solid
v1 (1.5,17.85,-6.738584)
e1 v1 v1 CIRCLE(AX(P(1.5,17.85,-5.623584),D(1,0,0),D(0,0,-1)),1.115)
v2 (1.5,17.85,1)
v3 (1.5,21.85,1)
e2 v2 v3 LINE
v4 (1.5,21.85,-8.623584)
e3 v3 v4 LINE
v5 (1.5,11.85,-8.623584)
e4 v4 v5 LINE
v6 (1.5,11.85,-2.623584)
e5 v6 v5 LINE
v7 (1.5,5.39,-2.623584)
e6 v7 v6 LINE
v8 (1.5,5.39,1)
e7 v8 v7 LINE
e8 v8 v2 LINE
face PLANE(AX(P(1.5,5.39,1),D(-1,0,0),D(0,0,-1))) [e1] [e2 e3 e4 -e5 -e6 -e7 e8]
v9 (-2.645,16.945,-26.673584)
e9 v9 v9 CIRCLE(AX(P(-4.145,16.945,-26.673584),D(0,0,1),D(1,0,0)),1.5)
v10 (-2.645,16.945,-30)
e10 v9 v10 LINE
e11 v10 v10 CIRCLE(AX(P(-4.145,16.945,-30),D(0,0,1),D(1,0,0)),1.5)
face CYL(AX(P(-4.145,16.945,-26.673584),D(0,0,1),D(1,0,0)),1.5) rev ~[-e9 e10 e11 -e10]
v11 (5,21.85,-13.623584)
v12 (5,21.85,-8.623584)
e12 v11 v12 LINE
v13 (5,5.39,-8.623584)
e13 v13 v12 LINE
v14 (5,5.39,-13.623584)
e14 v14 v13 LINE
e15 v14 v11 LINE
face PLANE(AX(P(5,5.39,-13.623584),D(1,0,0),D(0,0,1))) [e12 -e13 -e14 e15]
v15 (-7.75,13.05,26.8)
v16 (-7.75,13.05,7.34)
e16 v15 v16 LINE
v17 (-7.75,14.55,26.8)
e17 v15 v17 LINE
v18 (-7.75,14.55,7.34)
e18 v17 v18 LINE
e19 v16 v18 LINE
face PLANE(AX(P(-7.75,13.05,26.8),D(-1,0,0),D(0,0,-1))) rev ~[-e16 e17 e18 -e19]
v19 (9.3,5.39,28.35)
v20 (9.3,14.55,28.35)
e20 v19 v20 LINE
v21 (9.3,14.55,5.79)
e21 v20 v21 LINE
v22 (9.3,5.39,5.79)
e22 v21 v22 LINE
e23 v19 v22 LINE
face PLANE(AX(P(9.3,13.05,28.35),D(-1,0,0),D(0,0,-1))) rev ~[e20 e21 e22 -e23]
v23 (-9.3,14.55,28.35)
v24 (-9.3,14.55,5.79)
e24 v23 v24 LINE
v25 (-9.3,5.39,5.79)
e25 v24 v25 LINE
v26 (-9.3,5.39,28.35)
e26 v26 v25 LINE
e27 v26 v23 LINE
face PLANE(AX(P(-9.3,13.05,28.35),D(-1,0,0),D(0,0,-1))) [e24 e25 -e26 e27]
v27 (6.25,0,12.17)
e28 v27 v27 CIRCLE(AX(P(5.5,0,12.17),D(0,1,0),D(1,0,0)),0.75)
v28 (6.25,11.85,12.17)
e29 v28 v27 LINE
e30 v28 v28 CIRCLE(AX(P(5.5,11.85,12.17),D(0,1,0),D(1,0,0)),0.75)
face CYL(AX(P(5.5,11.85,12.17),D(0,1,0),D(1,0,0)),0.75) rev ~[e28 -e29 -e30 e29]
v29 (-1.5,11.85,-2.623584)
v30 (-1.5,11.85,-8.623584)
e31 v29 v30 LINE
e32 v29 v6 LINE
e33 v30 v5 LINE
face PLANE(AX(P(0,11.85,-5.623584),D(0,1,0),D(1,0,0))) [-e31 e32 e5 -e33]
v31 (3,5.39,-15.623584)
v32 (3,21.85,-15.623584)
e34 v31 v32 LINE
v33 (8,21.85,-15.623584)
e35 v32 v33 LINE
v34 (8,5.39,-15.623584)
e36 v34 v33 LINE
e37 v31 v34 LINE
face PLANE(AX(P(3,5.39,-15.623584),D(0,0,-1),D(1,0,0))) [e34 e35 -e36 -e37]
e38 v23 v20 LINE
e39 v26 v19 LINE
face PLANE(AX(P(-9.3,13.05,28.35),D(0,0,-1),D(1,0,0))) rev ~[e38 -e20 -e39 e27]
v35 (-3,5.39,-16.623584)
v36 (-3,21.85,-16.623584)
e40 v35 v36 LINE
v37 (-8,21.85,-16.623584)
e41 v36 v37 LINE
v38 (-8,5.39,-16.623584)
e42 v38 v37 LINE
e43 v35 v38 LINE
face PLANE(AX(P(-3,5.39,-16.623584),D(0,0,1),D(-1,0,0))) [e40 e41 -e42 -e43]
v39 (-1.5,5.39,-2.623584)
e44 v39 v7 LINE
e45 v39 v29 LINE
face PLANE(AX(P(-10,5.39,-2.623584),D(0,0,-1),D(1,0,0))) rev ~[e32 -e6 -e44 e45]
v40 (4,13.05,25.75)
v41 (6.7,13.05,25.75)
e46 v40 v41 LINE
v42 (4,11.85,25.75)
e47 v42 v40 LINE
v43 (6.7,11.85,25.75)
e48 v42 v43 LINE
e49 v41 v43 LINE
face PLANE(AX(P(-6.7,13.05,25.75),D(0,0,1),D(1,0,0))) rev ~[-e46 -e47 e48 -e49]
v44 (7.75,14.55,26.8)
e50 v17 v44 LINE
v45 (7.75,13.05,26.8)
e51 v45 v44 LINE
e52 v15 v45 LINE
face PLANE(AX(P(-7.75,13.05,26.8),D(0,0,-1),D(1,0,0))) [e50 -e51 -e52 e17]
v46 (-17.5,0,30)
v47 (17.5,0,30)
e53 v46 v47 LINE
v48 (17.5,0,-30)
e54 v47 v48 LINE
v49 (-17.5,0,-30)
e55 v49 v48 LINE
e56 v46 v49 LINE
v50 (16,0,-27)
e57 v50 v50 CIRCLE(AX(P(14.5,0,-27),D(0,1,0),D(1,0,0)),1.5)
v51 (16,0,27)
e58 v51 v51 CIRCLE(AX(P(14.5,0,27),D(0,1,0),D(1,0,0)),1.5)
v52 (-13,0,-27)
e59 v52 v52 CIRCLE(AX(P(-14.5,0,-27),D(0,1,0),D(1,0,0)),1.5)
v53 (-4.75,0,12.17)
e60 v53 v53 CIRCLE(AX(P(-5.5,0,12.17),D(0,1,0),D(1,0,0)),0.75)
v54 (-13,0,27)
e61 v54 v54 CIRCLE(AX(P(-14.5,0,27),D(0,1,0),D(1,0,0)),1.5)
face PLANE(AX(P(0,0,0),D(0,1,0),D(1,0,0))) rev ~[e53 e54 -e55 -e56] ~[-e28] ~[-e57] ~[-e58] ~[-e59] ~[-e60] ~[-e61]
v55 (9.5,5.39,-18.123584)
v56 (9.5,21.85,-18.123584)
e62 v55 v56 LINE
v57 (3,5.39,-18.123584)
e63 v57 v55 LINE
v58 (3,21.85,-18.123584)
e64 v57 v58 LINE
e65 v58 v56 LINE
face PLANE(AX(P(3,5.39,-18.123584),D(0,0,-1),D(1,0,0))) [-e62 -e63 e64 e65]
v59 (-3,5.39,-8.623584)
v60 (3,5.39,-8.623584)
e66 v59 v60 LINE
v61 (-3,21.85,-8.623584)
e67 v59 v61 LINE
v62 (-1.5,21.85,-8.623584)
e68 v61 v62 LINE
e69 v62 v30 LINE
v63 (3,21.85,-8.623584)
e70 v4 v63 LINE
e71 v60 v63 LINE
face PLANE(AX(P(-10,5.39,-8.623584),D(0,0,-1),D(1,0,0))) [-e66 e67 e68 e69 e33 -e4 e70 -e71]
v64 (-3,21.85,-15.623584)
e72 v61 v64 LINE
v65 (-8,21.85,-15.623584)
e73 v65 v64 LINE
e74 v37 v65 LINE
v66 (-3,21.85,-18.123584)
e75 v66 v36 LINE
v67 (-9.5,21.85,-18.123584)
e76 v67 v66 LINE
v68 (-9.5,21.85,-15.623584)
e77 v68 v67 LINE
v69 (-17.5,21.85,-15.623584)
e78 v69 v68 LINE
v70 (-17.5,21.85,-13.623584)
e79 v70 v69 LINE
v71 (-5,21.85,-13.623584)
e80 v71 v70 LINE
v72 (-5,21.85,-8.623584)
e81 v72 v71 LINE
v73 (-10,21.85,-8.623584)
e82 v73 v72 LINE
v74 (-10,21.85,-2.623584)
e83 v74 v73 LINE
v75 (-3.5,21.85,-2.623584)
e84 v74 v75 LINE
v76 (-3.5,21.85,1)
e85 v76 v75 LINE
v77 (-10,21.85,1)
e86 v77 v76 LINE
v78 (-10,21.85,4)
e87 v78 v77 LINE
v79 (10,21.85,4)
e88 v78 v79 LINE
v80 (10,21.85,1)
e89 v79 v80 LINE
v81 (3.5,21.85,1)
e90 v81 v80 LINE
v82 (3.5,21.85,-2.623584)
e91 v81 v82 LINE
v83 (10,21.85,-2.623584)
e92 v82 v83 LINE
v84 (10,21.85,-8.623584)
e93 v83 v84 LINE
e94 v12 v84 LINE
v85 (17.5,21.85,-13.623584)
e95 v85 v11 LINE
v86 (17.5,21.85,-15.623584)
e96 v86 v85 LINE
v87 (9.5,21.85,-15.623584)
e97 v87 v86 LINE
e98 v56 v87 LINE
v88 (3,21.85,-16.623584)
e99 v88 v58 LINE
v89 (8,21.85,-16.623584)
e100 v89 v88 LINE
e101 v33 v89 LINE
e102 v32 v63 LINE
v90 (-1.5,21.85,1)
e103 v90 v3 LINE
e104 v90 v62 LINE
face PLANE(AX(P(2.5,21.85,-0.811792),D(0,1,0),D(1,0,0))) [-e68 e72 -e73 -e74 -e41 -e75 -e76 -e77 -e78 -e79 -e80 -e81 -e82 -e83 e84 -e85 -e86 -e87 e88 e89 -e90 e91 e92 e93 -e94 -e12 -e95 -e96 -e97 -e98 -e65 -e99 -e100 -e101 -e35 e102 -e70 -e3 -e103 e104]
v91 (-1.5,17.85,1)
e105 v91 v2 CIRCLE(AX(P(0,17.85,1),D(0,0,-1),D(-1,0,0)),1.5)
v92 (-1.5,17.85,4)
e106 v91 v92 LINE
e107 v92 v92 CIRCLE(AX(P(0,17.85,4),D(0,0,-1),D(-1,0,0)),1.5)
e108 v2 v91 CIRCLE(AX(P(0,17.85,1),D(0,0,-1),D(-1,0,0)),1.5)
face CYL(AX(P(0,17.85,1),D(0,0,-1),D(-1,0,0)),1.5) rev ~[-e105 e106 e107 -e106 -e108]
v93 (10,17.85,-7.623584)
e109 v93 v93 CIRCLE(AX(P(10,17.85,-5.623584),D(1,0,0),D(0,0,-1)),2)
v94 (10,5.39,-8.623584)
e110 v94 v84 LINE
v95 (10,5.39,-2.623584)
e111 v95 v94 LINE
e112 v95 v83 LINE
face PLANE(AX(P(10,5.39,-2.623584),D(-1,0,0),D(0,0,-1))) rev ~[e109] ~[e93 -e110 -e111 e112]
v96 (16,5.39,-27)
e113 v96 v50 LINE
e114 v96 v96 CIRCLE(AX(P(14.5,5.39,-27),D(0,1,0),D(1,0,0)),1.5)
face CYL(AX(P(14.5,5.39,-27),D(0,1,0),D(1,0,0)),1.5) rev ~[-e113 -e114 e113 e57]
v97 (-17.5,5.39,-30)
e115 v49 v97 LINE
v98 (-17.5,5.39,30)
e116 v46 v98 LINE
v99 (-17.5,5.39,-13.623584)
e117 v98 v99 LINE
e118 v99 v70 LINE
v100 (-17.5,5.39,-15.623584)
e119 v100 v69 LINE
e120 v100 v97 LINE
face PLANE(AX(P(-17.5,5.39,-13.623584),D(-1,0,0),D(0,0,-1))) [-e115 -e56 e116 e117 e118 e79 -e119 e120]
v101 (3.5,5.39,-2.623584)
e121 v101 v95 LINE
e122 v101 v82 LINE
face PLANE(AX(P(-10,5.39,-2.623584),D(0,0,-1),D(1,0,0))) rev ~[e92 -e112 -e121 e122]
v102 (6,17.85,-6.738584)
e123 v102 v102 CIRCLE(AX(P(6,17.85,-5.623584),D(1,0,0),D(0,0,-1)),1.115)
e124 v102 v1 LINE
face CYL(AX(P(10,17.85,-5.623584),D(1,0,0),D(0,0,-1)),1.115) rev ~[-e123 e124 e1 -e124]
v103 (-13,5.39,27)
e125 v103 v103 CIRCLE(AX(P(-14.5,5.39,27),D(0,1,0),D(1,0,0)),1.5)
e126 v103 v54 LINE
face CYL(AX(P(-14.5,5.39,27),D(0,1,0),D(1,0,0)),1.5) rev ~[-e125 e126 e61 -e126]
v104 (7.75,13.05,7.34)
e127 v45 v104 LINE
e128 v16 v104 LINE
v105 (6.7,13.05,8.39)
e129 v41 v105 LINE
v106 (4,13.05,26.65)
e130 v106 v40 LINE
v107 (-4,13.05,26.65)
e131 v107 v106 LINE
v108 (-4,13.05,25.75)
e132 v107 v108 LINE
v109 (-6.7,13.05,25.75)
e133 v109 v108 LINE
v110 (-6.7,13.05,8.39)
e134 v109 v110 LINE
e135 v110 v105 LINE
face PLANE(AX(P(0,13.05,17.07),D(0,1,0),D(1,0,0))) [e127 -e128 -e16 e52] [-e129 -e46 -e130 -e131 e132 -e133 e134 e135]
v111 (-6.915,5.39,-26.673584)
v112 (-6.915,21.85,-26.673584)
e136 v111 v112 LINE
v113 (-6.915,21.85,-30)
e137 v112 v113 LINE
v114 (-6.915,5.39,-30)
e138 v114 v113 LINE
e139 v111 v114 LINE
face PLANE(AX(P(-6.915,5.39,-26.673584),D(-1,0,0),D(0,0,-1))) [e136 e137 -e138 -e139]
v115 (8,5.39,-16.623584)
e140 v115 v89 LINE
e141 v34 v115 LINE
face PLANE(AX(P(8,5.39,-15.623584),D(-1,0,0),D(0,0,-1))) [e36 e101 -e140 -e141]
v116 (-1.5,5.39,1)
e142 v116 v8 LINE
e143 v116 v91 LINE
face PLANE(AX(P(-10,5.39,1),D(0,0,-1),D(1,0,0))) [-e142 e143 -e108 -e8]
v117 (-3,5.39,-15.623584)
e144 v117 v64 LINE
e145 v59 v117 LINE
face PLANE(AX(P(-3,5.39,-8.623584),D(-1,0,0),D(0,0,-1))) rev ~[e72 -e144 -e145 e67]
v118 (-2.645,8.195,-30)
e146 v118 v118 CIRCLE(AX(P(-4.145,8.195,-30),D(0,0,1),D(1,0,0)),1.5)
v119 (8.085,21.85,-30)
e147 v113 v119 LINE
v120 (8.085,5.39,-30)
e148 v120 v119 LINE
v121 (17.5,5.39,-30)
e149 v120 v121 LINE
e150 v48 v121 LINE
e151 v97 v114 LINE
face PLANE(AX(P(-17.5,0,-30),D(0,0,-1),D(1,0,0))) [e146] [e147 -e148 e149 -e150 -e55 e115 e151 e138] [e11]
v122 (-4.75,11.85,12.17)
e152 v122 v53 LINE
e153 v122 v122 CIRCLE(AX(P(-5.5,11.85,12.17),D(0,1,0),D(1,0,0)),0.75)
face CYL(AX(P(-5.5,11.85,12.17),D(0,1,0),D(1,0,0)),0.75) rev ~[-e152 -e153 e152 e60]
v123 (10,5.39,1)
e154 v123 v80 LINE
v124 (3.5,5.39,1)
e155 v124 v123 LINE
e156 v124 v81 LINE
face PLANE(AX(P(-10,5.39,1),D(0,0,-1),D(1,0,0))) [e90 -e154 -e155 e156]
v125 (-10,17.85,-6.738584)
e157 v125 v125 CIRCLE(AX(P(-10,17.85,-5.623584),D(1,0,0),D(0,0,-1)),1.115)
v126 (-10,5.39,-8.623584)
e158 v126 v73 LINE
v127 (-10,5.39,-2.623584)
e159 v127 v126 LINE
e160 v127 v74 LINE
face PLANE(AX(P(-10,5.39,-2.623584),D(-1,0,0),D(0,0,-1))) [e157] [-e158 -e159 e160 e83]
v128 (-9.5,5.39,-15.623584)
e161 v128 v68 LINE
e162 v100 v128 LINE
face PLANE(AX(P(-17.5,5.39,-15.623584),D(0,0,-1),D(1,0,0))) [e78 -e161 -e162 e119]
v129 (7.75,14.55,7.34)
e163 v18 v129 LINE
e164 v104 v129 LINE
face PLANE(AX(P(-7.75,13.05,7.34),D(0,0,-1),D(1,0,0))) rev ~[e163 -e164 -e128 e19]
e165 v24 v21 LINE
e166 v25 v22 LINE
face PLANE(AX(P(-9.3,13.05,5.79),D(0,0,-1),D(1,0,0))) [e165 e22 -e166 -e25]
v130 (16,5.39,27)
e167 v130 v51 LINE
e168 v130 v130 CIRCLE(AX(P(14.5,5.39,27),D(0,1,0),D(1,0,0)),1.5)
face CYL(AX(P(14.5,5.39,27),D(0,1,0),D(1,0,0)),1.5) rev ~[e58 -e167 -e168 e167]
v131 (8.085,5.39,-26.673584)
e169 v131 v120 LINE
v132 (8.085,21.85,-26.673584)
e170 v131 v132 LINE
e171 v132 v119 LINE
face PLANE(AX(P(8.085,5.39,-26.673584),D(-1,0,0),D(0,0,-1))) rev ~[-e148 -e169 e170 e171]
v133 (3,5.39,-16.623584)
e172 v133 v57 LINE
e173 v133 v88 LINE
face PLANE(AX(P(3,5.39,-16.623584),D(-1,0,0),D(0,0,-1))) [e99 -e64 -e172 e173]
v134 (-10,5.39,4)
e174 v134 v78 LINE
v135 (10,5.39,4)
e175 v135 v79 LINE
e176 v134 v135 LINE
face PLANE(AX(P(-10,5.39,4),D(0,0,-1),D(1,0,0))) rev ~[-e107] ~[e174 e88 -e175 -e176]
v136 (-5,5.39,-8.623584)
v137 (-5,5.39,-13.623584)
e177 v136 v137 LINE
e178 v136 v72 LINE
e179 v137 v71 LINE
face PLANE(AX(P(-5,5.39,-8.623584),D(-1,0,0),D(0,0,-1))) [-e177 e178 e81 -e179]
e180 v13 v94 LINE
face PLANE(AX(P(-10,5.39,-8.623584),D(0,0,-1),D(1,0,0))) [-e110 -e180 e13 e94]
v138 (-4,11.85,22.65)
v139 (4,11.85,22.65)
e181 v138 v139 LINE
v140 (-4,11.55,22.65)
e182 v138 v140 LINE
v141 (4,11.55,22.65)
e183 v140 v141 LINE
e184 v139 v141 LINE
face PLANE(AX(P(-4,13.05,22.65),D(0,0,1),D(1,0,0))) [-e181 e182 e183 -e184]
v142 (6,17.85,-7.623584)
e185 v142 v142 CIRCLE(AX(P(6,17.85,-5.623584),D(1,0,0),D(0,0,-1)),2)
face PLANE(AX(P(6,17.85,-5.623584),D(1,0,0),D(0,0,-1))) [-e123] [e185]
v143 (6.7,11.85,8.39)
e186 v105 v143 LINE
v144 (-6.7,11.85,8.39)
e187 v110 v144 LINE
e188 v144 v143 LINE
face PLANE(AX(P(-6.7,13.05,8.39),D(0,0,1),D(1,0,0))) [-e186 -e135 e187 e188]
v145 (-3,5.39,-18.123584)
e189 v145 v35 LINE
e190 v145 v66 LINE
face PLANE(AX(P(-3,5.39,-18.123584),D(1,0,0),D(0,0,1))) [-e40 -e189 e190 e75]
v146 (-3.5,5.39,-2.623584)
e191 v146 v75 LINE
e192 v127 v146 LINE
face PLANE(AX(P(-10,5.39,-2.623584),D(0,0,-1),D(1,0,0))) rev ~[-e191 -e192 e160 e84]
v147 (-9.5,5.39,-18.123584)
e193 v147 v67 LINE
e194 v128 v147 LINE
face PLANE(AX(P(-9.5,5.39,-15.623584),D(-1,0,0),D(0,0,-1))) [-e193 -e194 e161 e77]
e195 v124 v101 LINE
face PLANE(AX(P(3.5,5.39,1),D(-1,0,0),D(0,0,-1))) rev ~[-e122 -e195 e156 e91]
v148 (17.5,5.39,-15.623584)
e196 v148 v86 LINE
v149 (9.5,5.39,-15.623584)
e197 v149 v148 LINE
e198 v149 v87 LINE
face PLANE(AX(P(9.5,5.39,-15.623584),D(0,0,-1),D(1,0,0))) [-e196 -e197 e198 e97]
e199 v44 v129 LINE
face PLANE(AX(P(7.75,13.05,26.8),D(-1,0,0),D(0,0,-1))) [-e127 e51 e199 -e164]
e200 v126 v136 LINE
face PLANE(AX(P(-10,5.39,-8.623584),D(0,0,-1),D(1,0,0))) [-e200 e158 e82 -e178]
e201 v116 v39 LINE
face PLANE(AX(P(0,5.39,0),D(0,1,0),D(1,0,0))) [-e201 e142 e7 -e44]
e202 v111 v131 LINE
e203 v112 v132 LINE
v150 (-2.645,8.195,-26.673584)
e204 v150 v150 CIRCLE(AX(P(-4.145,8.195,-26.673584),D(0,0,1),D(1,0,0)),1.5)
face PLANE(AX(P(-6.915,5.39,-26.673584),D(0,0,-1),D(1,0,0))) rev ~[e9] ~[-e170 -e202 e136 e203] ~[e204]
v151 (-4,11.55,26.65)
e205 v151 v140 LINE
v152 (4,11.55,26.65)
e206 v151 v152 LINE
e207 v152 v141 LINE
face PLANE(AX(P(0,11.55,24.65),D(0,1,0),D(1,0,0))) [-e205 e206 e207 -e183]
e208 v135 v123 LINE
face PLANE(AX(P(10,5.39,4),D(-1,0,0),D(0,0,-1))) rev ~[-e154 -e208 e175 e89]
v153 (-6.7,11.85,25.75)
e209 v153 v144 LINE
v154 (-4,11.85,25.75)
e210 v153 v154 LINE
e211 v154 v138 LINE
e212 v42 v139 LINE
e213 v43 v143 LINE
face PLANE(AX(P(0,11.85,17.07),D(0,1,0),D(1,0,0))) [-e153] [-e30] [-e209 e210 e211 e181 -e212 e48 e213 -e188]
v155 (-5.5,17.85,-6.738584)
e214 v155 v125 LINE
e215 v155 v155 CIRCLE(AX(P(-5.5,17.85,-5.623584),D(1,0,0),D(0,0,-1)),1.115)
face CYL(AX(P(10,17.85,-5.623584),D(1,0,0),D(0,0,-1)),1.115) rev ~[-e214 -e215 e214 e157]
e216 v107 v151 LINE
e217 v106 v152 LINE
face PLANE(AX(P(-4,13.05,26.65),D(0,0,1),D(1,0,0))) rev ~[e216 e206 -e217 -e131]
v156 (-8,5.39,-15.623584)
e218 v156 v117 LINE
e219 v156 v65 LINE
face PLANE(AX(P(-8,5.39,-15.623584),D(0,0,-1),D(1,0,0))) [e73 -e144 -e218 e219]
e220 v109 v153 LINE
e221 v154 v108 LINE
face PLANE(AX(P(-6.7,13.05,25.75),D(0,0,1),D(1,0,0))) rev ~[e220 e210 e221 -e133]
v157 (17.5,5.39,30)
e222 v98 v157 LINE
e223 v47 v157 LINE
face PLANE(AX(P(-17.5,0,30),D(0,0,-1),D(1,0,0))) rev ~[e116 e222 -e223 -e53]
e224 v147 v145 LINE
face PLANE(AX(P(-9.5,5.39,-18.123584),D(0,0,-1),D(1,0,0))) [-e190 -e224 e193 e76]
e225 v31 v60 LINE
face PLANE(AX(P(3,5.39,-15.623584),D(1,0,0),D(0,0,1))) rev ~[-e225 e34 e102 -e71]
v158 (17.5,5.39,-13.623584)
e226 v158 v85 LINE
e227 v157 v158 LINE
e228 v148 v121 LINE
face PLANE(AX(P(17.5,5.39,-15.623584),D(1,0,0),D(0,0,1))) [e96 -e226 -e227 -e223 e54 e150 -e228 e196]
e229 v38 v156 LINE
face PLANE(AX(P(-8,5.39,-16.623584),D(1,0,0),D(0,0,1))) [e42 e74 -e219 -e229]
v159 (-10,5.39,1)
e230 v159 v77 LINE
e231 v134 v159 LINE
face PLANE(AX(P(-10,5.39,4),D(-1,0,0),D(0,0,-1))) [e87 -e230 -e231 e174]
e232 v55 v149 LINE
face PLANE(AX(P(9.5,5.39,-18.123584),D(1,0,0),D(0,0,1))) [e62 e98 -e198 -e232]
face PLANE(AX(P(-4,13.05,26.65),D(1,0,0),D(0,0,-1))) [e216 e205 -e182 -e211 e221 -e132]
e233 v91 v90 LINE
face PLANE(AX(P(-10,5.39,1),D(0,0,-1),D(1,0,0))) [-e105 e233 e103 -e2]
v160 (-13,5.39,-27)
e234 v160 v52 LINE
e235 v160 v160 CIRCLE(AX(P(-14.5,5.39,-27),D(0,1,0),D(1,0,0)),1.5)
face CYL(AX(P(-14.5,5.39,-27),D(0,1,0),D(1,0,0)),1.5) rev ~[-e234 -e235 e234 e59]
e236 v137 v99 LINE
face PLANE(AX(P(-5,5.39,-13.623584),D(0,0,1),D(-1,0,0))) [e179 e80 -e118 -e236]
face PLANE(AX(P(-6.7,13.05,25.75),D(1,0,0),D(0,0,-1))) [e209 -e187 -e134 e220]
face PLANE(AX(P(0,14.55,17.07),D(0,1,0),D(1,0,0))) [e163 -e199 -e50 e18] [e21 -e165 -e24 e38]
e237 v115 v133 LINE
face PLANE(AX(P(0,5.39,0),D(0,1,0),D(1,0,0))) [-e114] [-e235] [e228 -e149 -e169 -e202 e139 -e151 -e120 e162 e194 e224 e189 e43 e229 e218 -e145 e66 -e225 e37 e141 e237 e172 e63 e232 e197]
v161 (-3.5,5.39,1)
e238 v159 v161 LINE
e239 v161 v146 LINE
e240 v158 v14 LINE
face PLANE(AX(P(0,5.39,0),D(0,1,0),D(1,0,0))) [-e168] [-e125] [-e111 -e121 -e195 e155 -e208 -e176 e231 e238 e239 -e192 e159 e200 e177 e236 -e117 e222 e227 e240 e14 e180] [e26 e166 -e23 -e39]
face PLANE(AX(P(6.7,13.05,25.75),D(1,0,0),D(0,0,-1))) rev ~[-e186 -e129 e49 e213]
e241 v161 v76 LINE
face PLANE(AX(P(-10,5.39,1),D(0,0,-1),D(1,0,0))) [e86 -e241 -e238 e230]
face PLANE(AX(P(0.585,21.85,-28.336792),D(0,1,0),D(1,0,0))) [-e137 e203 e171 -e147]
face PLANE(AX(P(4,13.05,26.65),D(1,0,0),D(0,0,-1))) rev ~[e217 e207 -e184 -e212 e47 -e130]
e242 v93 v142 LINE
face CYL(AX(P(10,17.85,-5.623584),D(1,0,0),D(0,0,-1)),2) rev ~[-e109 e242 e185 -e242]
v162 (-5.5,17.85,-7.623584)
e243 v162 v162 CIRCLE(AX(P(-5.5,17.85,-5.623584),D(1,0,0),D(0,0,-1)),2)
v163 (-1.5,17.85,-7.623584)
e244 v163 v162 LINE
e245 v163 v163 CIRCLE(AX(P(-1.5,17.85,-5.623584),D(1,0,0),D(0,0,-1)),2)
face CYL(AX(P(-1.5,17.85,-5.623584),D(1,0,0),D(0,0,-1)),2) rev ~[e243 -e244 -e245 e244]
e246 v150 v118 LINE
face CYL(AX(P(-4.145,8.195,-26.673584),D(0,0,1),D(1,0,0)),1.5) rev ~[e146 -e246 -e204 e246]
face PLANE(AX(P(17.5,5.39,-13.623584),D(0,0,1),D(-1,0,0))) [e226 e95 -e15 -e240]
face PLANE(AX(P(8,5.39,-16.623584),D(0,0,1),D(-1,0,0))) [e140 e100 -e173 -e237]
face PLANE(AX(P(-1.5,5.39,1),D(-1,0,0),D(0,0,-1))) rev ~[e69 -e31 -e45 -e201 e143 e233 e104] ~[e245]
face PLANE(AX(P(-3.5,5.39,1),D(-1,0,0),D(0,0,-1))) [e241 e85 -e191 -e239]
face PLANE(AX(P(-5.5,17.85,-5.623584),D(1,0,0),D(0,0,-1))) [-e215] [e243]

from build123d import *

# Parameters (mm, degrees)
SKETCH1_W                      = 35
SKETCH1_H                      = 60
FLATBASE_DEPTH                 = 5.39
SKETCH19_R                     = 1.5
FLATBASEHOLES_DEPTH            = 6.39
SKETCH2_W                      = 20
SKETCH2_H                      = 3
FILAMENT_LASER_INTERFACE_DEPTH = 16.46
SKETCH4_R                      = 1.5
LASERHOLE_DEPTH                = 3
SKETCH8_W                      = 18.6
SKETCH8_H                      = 22.56
LASER_BASE_DEPTH               = 7.66
SKETCH9_W                      = 13.4
SKETCH9_H                      = 17.36
LASERBOARDMAINCUT_DEPTH        = 1.2
SKETCH11_W                     = 8
SKETCH11_H                     = 4
LASERBOARD_PINHPLES_DEPTH      = 1.5
SKETCH13_W                     = 18.6
SKETCH13_H                     = 22.56
SKETCH13_W_2                   = 15.5
SKETCH13_H_2                   = 19.46
LASERBOARD_SKIRTING_DEPTH      = 1.5
SKETCH14_R                     = 0.75
LASERBOARD_SCREWHOLES_DEPTH    = 12.85
SKETCH20_W                     = 20
SKETCH20_H                     = 6
BOSS_EXTRUDE1_DEPTH            = 16.46
SKETCH22_R                     = 1.115
CUT_EXTRUDE1_DEPTH             = 20
SKETCH23_W                     = 3
SKETCH23_H                     = 6
CUT_EXTRUDE2_DEPTH             = 10
SKETCH24_R                     = 2
CUT_EXTRUDE3_DEPTH             = 4
SKETCH25_R                     = 2
CUT_EXTRUDE4_DEPTH             = 4
SKETCH26_W                     = 2
SKETCH26_H                     = 3.623584384
BOSS_EXTRUDE2_DEPTH            = 16.46
SKETCH27_W                     = 15
SKETCH27_H                     = 3.326415616
BOSS_EXTRUDE3_DEPTH            = 16.46
SKETCH28_R                     = 1.5
CUT_EXTRUDE5_DEPTH             = 3.326416
BOSS_EXTRUDE4_DEPTH            = 16.46


with BuildPart() as part:
    # Sketch1 → FlatBase (new body)
    with BuildSketch(Plane(origin=(0, 0, 0), x_dir=(1, 0, 0), z_dir=(0, 1, 0))):
        Rectangle(SKETCH1_W, SKETCH1_H)
    extrude(amount=FLATBASE_DEPTH)

    # Sketch19 → FlatBaseHoles (cut, through all)
    with BuildSketch(Plane(origin=(0, 5.39, 0), x_dir=(1, 0, 0), z_dir=(0, 1, 0))):
        with Locations((-14.5, 27)):
            Circle(SKETCH19_R)
        with Locations((14.5, 27)):
            Circle(SKETCH19_R)
        with Locations((14.5, -27)):
            Circle(SKETCH19_R)
        with Locations((-14.5, -27)):
            Circle(SKETCH19_R)
    extrude(amount=-FLATBASEHOLES_DEPTH, mode=Mode.SUBTRACT)

    # Sketch2 → Filament-Laser-Interface (add)
    with BuildSketch(Plane(origin=(0, 5.39, 0), x_dir=(1, 0, 0), z_dir=(0, 1, 0))):
        with Locations((0, -2.5)):
            Rectangle(SKETCH2_W, SKETCH2_H)
    extrude(amount=FILAMENT_LASER_INTERFACE_DEPTH)

    # Sketch4 → LaserHole (cut)
    with BuildSketch(Plane(origin=(0, 0, 1), x_dir=(-1, 0, 0), z_dir=(0, 0, -1))):
        with Locations((0, 17.85)):
            Circle(SKETCH4_R)
    extrude(amount=-LASERHOLE_DEPTH, mode=Mode.SUBTRACT)

    # Sketch8 → Laser-Base (add)
    with BuildSketch(Plane(origin=(0, 5.39, 0), x_dir=(1, 0, 0), z_dir=(0, 1, 0))):
        with Locations((0, -17.07)):
            Rectangle(SKETCH8_W, SKETCH8_H)
    extrude(amount=LASER_BASE_DEPTH)

    # Sketch9 → LaserBoardMainCut (cut)
    with BuildSketch(Plane(origin=(0, 13.05, 0), x_dir=(1, 0, 0), z_dir=(0, 1, 0))):
        with Locations((0, -17.07)):
            Rectangle(SKETCH9_W, SKETCH9_H)
    extrude(amount=-LASERBOARDMAINCUT_DEPTH, mode=Mode.SUBTRACT)

    # Sketch11 → LaserBoard-PinHples (cut)
    with BuildSketch(Plane(origin=(0, 13.05, 0), x_dir=(1, 0, 0), z_dir=(0, 1, 0))):
        with Locations((0, -24.65)):
            Rectangle(SKETCH11_W, SKETCH11_H)
    extrude(amount=-LASERBOARD_PINHPLES_DEPTH, mode=Mode.SUBTRACT)

    # Sketch13 → LaserBoard-Skirting (add)
    with BuildSketch(Plane(origin=(0, 13.05, 0), x_dir=(1, 0, 0), z_dir=(0, 1, 0))):
        with Locations((0, -17.07)):
            Rectangle(SKETCH13_W, SKETCH13_H)
        with Locations((0, -17.07)):
            Rectangle(SKETCH13_W_2, SKETCH13_H_2, mode=Mode.SUBTRACT)
    extrude(amount=LASERBOARD_SKIRTING_DEPTH)

    # Sketch14 → LaserBoard-ScrewHoles (cut, through all)
    with BuildSketch(Plane(origin=(0, 11.85, 0), x_dir=(1, 0, 0), z_dir=(0, 1, 0))):
        with Locations((5.5, -12.17)):
            Circle(SKETCH14_R)
        with Locations((-5.5, -12.17)):
            Circle(SKETCH14_R)
    extrude(amount=-LASERBOARD_SCREWHOLES_DEPTH, mode=Mode.SUBTRACT)

    # Sketch20 → Boss-Extrude1 (add)
    with BuildSketch(Plane(origin=(0, 5.39, 0), x_dir=(1, 0, 0), z_dir=(0, 1, 0))):
        with Locations((0, 5.623584384)):
            Rectangle(SKETCH20_W, SKETCH20_H)
    extrude(amount=BOSS_EXTRUDE1_DEPTH)

    # Sketch22 → Cut-Extrude1 (cut)
    with BuildSketch(Plane(origin=(10, 0, 0), x_dir=(0, 0, -1), z_dir=(1, 0, 0))):
        with Locations((5.623584384, 17.85)):
            Circle(SKETCH22_R)
    extrude(amount=-CUT_EXTRUDE1_DEPTH, mode=Mode.SUBTRACT)

    # Sketch23 → Cut-Extrude2 (cut)
    with BuildSketch(Plane(origin=(0, 21.85, 0), x_dir=(1, 0, 0), z_dir=(0, 1, 0))):
        with Locations((0, 5.623584384)):
            Rectangle(SKETCH23_W, SKETCH23_H)
    extrude(amount=-CUT_EXTRUDE2_DEPTH, mode=Mode.SUBTRACT)

    # Sketch24 → Cut-Extrude3 (cut)
    with BuildSketch(Plane(origin=(10, 0, 0), x_dir=(0, 0, -1), z_dir=(1, 0, 0))):
        with Locations((5.623584384, 17.85)):
            Circle(SKETCH24_R)
    extrude(amount=-CUT_EXTRUDE3_DEPTH, mode=Mode.SUBTRACT)

    # Sketch25 → Cut-Extrude4 (cut)
    with BuildSketch(Plane(origin=(-1.5, 0, 0), x_dir=(0, 0, -1), z_dir=(1, 0, 0))):
        with Locations((5.623584384, 17.85)):
            Circle(SKETCH25_R)
    extrude(amount=-CUT_EXTRUDE4_DEPTH, mode=Mode.SUBTRACT)

    # Sketch26 → Boss-Extrude2 (add)
    with BuildSketch(Plane(origin=(0, 5.39, 0), x_dir=(1, 0, 0), z_dir=(0, 1, 0))):
        with Locations((2.5, 0.811792192)):
            Rectangle(SKETCH26_W, SKETCH26_H)
        with Locations((-2.5, 0.811792192)):
            Rectangle(SKETCH26_W, SKETCH26_H)
    extrude(amount=BOSS_EXTRUDE2_DEPTH)

    # Sketch27 → Boss-Extrude3 (add)
    with BuildSketch(Plane(origin=(0, 5.39, 0), x_dir=(1, 0, 0), z_dir=(0, 1, 0))):
        with Locations((0.585, 28.336792192)):
            Rectangle(SKETCH27_W, SKETCH27_H)
    extrude(amount=BOSS_EXTRUDE3_DEPTH)

    # Sketch28 → Cut-Extrude5 (cut)
    with BuildSketch(Plane.XY.offset(-26.673584384)):
        with Locations((-4.145, 8.195)):
            Circle(SKETCH28_R)
        with Locations((-4.145, 16.945)):
            Circle(SKETCH28_R)
    extrude(amount=-CUT_EXTRUDE5_DEPTH, mode=Mode.SUBTRACT)

    # Sketch29 → Boss-Extrude4 (add)
    with BuildSketch(Plane(origin=(0, 5.39, 0), x_dir=(1, 0, 0), z_dir=(0, 1, 0))):
        Polygon((-17.5, 15.623584384), (-9.5, 15.623584384), (-9.5, 18.123584384), (-3, 18.123584384), (-3, 16.623584384), (-8, 16.623584384), (-8, 15.623584384), (-3, 15.623584384), (-3, 13.623584384), (-3, 8.623584384), (-5, 8.623584384), (-5, 13.623584384), (-17.5, 13.623584384), align=None)
        Polygon((17.5, 15.623584384), (17.5, 13.623584384), (5, 13.623584384), (5, 8.623584384), (3, 8.623584384), (3, 13.623584384), (3, 15.623584384), (8, 15.623584384), (8, 16.623584384), (3, 16.623584384), (3, 18.123584384), (9.5, 18.123584384), (9.5, 15.623584384), align=None)
    extrude(amount=BOSS_EXTRUDE4_DEPTH)


solid = part.part
